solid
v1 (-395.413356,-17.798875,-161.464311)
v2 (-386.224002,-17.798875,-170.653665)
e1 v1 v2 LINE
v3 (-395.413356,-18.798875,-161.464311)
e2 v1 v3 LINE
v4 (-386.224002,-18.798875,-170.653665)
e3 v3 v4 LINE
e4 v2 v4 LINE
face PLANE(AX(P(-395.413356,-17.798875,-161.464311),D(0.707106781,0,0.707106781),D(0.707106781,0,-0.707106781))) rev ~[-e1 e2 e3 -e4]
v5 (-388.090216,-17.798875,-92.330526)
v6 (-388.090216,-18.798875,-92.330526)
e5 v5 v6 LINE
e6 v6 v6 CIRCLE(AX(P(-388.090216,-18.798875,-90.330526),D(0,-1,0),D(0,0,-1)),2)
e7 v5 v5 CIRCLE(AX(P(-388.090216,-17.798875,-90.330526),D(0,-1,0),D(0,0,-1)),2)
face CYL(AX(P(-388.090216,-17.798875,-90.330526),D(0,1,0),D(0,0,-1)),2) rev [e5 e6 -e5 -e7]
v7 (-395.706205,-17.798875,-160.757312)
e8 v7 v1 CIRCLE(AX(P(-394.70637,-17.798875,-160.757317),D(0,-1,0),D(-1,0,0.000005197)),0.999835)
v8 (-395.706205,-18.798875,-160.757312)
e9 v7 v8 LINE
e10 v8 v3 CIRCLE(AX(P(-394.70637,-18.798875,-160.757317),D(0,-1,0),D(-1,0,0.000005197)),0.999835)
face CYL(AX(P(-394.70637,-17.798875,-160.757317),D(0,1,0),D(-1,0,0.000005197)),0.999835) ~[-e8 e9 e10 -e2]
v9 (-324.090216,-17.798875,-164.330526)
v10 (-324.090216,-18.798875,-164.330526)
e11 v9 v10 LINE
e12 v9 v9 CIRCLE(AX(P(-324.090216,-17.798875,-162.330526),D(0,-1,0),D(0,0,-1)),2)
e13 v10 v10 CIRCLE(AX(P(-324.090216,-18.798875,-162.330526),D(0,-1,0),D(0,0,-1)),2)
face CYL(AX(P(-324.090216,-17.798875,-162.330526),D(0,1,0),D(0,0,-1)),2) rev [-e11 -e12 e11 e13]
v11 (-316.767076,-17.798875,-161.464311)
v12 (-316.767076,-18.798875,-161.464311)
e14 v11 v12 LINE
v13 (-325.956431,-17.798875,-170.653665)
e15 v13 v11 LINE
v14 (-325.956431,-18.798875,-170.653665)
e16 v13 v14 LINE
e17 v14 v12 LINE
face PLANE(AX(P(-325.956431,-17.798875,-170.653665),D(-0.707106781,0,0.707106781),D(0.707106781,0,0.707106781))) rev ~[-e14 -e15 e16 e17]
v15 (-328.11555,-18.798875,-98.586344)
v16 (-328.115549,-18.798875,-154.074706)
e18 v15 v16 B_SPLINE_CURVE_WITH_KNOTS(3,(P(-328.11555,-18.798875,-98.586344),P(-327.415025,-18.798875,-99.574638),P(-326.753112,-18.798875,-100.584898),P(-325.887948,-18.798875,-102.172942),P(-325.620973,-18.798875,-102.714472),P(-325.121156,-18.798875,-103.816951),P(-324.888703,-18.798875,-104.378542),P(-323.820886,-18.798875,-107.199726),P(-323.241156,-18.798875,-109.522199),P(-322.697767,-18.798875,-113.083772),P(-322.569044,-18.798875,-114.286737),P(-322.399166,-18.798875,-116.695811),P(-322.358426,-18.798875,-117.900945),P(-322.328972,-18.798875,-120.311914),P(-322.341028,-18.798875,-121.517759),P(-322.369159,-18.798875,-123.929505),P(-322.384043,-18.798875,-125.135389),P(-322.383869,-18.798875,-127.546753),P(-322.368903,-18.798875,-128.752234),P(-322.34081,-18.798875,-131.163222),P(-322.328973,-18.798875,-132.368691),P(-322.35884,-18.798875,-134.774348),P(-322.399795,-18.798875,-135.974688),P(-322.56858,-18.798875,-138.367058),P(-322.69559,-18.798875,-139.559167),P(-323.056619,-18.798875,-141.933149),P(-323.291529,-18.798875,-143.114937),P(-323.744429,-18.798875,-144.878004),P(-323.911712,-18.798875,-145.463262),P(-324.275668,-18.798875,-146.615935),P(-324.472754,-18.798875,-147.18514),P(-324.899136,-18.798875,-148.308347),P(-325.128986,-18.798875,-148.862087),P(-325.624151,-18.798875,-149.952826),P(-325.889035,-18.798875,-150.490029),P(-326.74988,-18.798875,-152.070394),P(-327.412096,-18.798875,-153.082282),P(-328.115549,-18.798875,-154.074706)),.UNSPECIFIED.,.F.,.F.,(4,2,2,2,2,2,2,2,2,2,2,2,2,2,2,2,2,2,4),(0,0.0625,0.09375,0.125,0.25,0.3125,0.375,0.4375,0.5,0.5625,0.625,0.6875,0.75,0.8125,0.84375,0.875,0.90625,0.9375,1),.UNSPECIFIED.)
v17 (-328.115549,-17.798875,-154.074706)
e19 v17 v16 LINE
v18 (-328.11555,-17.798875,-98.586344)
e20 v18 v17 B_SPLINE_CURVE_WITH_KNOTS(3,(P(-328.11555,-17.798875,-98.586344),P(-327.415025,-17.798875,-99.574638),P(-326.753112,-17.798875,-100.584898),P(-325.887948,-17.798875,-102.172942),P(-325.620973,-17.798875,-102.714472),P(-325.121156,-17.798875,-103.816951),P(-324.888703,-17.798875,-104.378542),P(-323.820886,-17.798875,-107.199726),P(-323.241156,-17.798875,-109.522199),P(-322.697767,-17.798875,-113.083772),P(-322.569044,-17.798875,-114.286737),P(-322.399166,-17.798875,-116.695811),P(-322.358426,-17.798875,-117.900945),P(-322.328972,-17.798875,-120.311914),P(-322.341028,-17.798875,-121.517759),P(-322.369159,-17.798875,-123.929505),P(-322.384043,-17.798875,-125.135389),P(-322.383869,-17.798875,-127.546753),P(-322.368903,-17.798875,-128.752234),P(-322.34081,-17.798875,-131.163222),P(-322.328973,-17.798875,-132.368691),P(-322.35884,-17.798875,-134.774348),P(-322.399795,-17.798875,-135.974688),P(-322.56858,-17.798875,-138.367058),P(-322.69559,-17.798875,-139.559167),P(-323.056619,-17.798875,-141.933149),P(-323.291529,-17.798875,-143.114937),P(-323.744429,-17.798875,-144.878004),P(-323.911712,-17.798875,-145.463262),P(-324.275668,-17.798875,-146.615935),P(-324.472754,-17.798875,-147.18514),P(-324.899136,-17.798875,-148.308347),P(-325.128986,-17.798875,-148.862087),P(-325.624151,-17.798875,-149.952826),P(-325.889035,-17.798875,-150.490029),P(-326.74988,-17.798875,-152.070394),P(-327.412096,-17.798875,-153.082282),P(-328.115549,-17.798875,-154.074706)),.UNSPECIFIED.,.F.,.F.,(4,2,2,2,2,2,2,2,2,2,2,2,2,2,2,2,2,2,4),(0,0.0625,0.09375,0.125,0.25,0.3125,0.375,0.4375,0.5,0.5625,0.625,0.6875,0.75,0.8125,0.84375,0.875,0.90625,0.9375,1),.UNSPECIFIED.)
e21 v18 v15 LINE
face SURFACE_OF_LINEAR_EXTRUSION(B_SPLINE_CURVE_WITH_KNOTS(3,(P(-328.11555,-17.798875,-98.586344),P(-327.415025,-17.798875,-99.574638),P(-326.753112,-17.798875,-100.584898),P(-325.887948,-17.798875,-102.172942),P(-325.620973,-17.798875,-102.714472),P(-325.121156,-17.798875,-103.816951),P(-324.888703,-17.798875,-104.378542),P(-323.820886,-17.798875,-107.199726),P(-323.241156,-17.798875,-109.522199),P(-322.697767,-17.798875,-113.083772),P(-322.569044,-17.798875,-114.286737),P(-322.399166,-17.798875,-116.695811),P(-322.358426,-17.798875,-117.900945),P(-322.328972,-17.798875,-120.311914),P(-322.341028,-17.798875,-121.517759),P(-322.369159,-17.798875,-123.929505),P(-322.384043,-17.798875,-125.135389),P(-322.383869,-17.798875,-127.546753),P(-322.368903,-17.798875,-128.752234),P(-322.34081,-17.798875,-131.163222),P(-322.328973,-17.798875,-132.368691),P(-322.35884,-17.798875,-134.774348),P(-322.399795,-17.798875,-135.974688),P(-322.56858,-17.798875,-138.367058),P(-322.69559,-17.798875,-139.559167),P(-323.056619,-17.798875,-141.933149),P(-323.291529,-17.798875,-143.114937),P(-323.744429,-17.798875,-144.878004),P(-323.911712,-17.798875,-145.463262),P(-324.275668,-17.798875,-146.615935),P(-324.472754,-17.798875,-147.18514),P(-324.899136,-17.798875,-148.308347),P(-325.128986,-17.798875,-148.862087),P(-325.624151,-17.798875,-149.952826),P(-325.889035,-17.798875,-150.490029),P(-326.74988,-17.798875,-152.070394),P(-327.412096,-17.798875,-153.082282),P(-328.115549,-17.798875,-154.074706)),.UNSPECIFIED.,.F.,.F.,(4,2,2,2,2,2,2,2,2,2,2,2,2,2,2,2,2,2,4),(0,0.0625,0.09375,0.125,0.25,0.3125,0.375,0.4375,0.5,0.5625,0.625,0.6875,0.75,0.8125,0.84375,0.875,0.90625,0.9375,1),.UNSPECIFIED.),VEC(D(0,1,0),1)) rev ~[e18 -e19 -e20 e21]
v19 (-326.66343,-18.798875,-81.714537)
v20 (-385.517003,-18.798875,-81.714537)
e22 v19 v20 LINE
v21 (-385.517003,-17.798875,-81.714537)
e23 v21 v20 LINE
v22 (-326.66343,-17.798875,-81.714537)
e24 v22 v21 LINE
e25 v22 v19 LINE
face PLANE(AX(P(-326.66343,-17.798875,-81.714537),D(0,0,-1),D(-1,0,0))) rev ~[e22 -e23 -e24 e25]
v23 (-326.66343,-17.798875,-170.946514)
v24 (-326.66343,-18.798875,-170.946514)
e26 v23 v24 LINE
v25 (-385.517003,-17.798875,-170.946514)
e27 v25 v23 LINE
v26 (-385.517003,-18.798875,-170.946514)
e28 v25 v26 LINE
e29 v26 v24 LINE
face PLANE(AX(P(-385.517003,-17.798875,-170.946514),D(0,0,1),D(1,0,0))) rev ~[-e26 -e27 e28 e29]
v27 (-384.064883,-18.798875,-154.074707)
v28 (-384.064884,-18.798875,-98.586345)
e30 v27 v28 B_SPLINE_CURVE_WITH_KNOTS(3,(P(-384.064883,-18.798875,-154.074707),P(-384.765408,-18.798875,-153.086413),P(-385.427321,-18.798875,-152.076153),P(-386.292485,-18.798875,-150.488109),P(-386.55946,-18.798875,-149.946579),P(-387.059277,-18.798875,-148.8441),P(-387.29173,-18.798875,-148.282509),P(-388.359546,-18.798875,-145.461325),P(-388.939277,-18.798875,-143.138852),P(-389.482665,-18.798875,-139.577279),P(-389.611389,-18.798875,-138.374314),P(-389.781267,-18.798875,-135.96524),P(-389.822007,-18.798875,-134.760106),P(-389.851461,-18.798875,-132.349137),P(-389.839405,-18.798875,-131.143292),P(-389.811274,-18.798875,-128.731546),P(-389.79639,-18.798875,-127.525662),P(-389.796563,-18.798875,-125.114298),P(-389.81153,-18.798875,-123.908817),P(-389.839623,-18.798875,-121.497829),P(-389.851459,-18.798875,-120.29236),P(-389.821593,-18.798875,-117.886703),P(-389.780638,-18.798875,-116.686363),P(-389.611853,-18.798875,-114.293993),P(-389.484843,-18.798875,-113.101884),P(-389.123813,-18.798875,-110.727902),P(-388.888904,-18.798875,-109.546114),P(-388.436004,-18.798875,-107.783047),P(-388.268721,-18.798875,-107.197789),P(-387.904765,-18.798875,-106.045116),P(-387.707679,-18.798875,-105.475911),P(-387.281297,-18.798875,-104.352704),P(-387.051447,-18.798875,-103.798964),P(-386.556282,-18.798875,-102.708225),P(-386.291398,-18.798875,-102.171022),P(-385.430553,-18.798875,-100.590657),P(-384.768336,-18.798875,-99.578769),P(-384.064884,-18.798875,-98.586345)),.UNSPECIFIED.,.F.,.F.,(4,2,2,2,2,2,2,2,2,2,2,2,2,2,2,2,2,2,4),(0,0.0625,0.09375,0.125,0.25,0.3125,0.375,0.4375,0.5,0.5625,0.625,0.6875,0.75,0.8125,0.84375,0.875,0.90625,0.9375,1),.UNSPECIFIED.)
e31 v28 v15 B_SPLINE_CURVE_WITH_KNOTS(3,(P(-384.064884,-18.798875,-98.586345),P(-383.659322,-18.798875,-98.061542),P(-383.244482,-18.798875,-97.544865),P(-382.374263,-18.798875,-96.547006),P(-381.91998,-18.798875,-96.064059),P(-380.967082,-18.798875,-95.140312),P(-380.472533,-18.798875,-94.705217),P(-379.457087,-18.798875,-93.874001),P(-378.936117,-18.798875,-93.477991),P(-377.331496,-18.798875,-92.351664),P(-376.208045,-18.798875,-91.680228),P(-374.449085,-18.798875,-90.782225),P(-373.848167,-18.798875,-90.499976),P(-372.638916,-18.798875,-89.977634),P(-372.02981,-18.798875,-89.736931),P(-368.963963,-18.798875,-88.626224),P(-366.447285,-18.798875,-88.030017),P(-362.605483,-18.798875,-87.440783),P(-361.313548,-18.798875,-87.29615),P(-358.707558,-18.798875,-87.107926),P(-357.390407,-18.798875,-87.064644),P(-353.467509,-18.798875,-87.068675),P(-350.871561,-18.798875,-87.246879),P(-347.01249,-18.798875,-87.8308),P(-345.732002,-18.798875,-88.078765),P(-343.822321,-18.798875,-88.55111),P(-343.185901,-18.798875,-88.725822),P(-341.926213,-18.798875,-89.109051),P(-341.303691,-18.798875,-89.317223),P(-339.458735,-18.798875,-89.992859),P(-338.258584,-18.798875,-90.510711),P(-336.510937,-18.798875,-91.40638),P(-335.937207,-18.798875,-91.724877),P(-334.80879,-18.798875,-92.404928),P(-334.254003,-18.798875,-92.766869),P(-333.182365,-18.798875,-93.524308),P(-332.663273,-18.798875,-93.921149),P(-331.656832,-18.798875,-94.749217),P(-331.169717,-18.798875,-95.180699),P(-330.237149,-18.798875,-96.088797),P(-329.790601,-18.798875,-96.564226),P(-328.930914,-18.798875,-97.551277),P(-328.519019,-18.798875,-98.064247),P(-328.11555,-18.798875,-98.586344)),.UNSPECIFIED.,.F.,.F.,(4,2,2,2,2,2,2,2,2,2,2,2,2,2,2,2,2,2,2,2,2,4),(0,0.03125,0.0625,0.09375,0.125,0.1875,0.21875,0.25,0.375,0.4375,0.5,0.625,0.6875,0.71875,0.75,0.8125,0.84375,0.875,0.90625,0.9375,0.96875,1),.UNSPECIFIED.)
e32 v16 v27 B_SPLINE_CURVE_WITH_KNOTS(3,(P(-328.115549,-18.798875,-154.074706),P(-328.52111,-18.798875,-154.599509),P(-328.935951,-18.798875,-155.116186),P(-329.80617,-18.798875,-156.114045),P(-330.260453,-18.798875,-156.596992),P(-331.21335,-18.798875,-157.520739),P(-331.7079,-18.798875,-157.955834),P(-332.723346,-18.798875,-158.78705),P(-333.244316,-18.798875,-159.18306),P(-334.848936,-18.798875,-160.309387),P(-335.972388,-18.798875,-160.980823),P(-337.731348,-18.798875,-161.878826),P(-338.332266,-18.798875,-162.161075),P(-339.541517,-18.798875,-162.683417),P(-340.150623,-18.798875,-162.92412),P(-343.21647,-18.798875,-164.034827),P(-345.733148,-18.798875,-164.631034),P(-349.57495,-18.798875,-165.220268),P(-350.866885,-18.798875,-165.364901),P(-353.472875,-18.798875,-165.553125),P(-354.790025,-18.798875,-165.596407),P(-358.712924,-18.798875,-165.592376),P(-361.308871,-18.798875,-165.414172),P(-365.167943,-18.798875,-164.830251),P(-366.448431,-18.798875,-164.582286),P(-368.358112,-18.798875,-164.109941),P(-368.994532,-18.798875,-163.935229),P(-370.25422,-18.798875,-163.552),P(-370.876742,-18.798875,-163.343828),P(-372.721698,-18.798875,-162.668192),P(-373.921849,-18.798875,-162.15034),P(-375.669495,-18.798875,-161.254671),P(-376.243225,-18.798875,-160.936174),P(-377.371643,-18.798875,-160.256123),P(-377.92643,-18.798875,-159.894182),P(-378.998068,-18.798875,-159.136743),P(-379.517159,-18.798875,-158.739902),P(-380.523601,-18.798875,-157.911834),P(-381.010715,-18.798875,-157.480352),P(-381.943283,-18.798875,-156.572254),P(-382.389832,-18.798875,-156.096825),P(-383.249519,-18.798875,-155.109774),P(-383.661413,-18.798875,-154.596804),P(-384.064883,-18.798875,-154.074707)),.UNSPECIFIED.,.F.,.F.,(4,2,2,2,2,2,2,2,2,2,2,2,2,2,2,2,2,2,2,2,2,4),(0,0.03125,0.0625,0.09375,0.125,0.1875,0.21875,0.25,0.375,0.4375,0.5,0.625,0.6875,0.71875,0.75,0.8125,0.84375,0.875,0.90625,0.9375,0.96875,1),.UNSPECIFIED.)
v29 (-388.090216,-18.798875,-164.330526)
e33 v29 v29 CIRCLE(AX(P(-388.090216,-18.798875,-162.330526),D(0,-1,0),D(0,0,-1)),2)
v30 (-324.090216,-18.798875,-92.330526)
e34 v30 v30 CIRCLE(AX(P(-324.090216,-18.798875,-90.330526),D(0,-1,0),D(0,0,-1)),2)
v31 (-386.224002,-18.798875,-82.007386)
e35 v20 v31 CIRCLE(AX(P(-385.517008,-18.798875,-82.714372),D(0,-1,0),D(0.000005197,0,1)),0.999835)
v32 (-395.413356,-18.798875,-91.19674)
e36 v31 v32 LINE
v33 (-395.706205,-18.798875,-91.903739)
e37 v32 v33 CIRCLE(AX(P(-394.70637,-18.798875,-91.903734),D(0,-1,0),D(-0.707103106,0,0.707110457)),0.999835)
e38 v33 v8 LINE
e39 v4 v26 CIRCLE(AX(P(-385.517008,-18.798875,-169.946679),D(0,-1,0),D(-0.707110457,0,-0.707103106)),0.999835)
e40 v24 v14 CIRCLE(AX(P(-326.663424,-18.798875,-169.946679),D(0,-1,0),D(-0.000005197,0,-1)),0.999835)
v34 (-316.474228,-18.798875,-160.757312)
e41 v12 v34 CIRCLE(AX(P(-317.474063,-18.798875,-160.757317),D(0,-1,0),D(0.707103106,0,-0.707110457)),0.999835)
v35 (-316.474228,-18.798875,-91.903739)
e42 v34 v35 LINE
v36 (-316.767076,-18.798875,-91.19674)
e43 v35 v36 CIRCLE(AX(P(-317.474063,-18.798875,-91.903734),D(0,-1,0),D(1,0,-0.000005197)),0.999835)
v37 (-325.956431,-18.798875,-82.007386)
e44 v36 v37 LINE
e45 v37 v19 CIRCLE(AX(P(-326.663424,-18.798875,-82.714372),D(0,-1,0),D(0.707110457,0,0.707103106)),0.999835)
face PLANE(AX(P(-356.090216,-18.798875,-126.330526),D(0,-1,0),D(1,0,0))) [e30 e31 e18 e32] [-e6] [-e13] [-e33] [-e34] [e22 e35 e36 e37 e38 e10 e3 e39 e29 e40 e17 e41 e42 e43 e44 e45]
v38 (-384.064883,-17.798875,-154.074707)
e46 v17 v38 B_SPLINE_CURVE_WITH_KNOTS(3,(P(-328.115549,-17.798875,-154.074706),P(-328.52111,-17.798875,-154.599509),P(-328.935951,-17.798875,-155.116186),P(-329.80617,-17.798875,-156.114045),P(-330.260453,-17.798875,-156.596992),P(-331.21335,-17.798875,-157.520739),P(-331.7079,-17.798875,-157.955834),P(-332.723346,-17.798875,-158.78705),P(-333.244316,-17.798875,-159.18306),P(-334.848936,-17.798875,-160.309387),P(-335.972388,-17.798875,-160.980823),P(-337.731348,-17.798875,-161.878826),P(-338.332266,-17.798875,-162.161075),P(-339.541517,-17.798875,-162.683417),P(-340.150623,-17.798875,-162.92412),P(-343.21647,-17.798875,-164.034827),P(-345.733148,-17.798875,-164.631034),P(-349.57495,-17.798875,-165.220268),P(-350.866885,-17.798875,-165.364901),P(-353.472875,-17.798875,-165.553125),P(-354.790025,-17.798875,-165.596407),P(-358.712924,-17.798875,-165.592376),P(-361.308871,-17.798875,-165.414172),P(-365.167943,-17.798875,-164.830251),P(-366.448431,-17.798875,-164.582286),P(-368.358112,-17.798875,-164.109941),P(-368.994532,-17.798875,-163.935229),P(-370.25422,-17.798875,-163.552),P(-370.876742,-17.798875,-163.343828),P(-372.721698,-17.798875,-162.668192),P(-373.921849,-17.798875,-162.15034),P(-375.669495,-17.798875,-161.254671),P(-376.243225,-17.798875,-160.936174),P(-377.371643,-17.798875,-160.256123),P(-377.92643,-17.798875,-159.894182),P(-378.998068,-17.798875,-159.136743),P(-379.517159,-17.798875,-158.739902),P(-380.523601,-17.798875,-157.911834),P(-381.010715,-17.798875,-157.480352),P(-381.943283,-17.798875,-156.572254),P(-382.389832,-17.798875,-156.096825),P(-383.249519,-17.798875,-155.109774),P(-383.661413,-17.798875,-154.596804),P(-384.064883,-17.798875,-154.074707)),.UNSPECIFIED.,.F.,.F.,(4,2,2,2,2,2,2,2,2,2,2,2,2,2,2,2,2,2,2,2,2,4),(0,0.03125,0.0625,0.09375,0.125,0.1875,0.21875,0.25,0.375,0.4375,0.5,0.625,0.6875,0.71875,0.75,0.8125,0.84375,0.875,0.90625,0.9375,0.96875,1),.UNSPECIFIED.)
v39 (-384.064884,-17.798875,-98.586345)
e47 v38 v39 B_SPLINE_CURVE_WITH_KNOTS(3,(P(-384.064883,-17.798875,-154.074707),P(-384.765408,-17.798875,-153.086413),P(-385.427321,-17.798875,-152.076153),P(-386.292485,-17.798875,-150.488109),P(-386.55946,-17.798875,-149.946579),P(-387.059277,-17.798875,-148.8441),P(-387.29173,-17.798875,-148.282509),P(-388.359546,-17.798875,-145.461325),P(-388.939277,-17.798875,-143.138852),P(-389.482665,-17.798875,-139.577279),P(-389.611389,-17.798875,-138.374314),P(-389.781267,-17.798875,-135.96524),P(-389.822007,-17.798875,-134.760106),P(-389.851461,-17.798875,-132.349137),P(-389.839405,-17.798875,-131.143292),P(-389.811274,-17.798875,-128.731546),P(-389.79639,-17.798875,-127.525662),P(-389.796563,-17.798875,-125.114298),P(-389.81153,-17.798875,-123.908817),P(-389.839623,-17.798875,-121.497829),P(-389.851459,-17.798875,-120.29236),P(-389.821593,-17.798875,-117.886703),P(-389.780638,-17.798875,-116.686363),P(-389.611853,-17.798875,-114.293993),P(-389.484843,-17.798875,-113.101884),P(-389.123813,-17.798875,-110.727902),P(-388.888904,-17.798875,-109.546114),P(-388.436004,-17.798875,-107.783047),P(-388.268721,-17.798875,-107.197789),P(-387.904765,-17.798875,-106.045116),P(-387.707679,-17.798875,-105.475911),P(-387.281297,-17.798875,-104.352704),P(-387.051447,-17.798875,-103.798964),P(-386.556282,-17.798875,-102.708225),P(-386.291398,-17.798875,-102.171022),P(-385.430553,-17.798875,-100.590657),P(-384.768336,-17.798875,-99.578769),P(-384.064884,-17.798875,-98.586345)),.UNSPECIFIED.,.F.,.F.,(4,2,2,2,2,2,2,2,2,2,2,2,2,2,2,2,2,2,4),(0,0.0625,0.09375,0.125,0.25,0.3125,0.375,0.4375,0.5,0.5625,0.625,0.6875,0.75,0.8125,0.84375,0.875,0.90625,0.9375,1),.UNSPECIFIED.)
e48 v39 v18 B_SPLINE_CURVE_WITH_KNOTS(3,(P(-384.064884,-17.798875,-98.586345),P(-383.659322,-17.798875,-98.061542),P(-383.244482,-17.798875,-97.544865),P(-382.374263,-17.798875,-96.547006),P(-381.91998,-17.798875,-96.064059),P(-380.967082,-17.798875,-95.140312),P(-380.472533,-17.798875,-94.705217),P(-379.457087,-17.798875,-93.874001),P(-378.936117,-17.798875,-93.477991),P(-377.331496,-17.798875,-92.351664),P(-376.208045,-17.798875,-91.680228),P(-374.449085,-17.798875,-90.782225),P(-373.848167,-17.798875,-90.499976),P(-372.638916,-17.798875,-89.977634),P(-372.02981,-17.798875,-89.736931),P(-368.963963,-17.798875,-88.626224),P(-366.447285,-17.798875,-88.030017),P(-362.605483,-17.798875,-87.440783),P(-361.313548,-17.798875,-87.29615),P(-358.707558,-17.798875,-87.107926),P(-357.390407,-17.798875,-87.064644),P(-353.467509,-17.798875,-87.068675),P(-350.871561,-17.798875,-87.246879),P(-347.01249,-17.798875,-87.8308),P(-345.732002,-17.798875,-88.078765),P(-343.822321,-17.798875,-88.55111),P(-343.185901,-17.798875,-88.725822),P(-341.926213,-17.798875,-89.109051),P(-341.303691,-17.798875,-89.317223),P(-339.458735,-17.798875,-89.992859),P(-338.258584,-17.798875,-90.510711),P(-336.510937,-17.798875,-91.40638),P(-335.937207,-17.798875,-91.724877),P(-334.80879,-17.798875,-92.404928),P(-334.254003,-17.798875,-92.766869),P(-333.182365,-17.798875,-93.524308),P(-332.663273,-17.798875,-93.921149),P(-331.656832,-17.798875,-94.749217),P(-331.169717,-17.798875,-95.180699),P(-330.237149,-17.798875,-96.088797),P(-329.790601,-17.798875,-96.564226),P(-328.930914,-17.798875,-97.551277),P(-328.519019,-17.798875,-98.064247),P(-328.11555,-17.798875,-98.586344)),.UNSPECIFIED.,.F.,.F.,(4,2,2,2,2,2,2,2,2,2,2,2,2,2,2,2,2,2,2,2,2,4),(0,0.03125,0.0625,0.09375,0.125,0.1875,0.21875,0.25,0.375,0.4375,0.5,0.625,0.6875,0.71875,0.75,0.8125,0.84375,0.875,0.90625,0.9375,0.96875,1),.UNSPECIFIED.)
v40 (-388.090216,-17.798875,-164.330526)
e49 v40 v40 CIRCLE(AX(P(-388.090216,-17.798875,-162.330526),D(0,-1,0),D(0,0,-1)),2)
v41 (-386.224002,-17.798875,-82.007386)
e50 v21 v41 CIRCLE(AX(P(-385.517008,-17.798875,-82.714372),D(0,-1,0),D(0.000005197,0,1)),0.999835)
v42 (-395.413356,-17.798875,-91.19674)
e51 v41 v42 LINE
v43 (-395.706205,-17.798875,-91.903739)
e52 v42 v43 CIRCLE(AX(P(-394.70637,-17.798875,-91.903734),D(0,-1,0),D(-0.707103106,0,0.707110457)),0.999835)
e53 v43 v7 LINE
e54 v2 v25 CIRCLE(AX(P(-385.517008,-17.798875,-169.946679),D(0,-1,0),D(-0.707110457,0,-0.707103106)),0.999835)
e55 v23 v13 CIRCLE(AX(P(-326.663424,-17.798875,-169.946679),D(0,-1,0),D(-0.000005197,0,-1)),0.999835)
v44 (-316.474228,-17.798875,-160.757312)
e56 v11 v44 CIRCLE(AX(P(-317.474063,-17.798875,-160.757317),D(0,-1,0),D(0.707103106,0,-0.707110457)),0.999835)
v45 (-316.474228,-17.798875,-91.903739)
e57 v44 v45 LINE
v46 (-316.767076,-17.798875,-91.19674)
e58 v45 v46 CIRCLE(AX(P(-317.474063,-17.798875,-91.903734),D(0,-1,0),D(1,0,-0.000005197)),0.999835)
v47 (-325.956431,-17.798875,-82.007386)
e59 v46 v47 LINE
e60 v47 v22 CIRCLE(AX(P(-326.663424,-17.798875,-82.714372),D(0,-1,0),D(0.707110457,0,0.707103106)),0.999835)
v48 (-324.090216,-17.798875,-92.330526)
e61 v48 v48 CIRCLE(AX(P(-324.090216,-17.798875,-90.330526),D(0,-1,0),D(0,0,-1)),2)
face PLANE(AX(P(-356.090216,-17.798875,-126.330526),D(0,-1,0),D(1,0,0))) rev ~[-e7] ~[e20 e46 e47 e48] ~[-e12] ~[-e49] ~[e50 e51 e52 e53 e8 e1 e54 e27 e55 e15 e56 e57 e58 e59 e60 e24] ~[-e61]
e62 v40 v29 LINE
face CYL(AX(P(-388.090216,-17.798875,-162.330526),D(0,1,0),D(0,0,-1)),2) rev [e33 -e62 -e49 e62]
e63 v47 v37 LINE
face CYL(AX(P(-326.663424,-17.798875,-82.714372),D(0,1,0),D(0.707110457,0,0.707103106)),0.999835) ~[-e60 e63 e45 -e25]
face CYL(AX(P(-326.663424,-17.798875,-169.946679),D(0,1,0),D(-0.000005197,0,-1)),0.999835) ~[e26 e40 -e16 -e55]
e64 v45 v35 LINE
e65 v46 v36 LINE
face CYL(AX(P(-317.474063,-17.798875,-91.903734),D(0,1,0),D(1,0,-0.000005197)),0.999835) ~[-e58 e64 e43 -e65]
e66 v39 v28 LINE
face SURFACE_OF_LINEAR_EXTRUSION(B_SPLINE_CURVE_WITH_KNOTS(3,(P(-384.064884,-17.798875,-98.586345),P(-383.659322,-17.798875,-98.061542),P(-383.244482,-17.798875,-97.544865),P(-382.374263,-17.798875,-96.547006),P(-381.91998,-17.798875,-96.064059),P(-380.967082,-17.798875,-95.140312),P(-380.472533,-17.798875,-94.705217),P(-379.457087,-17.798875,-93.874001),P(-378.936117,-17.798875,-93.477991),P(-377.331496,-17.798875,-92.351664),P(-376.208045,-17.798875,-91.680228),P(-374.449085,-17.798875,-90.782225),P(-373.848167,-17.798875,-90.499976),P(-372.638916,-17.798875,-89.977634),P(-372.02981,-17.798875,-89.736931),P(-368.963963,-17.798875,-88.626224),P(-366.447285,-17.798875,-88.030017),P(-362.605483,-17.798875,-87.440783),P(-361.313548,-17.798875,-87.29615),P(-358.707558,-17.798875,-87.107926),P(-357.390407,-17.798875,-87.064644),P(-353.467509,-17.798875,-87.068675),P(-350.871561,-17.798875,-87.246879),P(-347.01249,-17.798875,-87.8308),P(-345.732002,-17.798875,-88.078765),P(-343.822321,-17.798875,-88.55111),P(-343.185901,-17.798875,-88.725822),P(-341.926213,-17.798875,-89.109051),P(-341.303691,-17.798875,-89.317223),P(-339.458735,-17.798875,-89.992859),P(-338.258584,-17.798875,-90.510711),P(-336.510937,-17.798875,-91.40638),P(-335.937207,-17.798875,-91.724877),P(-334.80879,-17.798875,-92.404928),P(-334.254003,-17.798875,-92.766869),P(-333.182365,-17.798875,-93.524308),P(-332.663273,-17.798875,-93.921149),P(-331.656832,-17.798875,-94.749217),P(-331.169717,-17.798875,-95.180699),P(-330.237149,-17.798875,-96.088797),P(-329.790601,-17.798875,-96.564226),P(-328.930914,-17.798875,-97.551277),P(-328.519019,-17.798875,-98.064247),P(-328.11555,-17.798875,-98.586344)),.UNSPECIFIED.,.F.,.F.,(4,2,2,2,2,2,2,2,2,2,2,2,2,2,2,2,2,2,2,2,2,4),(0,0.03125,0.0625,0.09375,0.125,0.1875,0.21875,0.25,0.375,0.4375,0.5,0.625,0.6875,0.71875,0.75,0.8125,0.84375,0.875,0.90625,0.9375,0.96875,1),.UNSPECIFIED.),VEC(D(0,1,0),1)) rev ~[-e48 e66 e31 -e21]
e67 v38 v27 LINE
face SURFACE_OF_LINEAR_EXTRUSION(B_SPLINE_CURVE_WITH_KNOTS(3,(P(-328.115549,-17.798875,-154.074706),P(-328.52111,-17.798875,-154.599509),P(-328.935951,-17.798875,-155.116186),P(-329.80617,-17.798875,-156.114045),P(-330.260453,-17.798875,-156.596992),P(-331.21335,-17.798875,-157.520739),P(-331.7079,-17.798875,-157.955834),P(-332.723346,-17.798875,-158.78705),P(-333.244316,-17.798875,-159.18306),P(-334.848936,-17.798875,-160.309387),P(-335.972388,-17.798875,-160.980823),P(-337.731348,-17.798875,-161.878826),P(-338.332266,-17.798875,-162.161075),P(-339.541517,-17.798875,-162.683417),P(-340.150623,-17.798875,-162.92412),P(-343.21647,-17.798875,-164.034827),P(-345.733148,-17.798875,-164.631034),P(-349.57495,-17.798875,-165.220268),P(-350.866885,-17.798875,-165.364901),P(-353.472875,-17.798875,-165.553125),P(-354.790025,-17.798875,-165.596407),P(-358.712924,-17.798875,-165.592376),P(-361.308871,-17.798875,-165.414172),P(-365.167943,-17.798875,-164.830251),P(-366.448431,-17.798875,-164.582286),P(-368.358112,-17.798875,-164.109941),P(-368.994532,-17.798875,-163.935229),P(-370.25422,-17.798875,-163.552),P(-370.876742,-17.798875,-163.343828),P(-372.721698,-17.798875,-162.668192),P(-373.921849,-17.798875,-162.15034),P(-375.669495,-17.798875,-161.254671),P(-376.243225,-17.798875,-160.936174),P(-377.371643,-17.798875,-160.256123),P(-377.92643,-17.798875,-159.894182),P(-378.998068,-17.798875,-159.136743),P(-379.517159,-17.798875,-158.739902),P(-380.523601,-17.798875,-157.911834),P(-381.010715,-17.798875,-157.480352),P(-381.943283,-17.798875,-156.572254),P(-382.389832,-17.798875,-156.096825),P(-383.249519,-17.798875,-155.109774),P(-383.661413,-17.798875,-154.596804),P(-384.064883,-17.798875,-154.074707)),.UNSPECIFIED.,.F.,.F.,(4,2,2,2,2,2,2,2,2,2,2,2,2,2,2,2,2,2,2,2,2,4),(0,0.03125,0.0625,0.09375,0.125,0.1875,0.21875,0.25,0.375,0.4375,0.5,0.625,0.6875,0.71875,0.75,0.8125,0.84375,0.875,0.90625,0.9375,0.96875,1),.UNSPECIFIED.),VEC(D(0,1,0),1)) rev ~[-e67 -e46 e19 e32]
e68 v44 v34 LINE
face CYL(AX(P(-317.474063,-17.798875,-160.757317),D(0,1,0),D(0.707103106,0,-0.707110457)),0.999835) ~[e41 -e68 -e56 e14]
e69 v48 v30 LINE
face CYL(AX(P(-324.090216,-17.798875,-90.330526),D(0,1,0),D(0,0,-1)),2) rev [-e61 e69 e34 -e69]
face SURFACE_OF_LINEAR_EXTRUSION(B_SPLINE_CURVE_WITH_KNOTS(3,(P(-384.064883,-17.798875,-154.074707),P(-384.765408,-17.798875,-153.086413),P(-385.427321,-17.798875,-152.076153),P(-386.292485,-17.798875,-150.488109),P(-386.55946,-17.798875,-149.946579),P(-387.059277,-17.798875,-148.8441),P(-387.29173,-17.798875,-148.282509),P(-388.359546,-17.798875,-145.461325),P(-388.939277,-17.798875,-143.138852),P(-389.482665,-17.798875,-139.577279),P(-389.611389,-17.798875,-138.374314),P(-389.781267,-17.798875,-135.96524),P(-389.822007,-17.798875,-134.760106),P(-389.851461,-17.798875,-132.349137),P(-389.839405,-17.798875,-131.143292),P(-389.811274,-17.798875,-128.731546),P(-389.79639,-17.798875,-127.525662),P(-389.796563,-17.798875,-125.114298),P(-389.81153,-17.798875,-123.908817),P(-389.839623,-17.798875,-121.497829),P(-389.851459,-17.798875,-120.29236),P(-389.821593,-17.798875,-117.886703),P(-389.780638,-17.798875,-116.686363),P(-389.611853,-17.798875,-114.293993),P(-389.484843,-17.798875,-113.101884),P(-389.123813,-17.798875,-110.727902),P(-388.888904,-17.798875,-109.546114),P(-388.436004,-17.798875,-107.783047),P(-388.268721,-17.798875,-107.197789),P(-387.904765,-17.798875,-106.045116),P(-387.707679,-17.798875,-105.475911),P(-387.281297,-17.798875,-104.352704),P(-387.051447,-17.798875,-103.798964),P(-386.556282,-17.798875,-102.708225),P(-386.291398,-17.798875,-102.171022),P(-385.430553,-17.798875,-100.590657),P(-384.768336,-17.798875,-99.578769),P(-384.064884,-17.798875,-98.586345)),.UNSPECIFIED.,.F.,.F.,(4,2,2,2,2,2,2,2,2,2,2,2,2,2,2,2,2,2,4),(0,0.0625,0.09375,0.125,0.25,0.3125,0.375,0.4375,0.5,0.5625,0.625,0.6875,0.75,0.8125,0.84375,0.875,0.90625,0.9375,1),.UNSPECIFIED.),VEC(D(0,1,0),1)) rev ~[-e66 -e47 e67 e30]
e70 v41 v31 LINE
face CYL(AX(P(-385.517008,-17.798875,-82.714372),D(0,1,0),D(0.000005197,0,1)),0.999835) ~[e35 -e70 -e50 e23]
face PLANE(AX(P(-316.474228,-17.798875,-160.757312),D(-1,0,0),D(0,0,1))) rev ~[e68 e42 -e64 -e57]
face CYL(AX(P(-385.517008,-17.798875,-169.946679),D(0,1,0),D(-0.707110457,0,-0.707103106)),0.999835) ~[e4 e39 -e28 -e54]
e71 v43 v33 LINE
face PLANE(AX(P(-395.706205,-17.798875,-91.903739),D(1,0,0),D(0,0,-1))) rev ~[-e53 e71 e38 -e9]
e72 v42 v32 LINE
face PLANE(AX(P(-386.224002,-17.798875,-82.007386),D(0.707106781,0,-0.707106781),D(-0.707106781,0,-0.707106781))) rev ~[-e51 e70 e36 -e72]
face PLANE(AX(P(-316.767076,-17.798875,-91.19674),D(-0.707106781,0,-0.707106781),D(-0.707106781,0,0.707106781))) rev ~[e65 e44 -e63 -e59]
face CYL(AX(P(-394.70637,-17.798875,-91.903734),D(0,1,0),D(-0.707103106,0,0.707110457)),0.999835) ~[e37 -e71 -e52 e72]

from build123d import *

# Parameters (mm, degrees)
SKETCH_1_R      = 2
EXTRUDE_1_DEPTH = 1


with BuildPart() as part:
    # 草图1 → 凸台-拉伸1 (new body)
    with BuildSketch(Plane.XZ.offset(17.798874667)):
        with BuildLine():
            Line((-395.706204946, -91.903738718), (-395.706204946, -160.757312284))
            ThreePointArc((-395.706204946, -160.757312284), (-395.630097027, -161.139937827), (-395.413356336, -161.464311369))
            Line((-395.413356336, -161.464311369), (-386.224002242, -170.653665463))
            ThreePointArc((-386.224002242, -170.653665463), (-385.8996287, -170.870406154), (-385.517003157, -170.946514073))
            Line((-385.517003157, -170.946514073), (-326.663429591, -170.946514073))
            ThreePointArc((-326.663429591, -170.946514073), (-326.280804048, -170.870406154), (-325.956430506, -170.653665463))
            Line((-325.956430506, -170.653665463), (-316.767076412, -161.464311369))
            ThreePointArc((-316.767076412, -161.464311369), (-316.550335721, -161.139937827), (-316.474227802, -160.757312284))
            Line((-316.474227802, -160.757312284), (-316.474227802, -91.903738718))
            ThreePointArc((-316.474227802, -91.903738718), (-316.550335721, -91.521113175), (-316.767076412, -91.196739633))
            Line((-316.767076412, -91.196739633), (-325.956430506, -82.007385539))
            ThreePointArc((-325.956430506, -82.007385539), (-326.280804048, -81.790644848), (-326.663429591, -81.714536929))
            Line((-326.663429591, -81.714536929), (-385.517003157, -81.714536929))
            ThreePointArc((-385.517003157, -81.714536929), (-385.8996287, -81.790644848), (-386.224002242, -82.007385539))
            Line((-386.224002242, -82.007385539), (-395.413356336, -91.196739633))
            ThreePointArc((-395.413356336, -91.196739633), (-395.630097027, -91.521113175), (-395.706204946, -91.903738718))
        make_face()
        with Locations(Location((-388.090216374, -90.330525501, 0), (0, 0, 270))):
            Circle(SKETCH_1_R, mode=Mode.SUBTRACT)
        with Locations(Location((-324.090216374, -90.330525501, 0), (0, 0, 270))):
            Circle(SKETCH_1_R, mode=Mode.SUBTRACT)
        with Locations(Location((-324.090216374, -162.330525501, 0), (0, 0, 270))):
            Circle(SKETCH_1_R, mode=Mode.SUBTRACT)
        with Locations(Location((-388.090216374, -162.330525501, 0), (0, 0, 270))):
            Circle(SKETCH_1_R, mode=Mode.SUBTRACT)
        with BuildLine():
            add(Edge.make_bspline(
                [(-328.115549043, -154.074705918), (-328.521110277, -154.59950882), (-328.935951097, -155.116186146), (-329.806169809, -156.114044907), (-330.260453195, -156.596991611), (-331.213350311, -157.520739064), (-331.707900164, -157.955834459), (-332.723346196, -158.787049549), (-333.244315955, -159.183060394), (-334.848936349, -160.309387169), (-335.972388004, -160.980823062), (-337.731348119, -161.87882583), (-338.332266211, -162.161075436), (-339.54151706, -162.683417257), (-340.150623092, -162.924120409), (-343.216470166, -164.034826977), (-345.733148117, -164.631034044), (-349.574949627, -165.220267596), (-350.866884926, -165.364900576), (-353.472874642, -165.553124722), (-354.790025345, -165.596406642), (-358.712924122, -165.592375715), (-361.308871291, -165.414172312), (-365.167942823, -164.830251401), (-366.448430665, -164.582286392), (-368.358111819, -164.109940734), (-368.99453183, -163.935229374), (-370.254220123, -163.552000312), (-370.876741702, -163.343828387), (-372.721697987, -162.668191611), (-373.921848978, -162.150340028), (-375.669495279, -161.254671187), (-376.243225263, -160.936174353), (-377.371642786, -160.256122939), (-377.926429949, -159.894182142), (-378.998067992, -159.136743168), (-379.517159279, -158.739902065), (-380.523601029, -157.91183415), (-381.01071538, -157.480351552), (-381.943283382, -156.572254171), (-382.389831683, -156.096825252), (-383.249518774, -155.109773972), (-383.661413356, -154.596803725), (-384.064883145, -154.074706668)],
                knots=[0, 0, 0, 0, 0.03125, 0.03125, 0.0625, 0.0625, 0.09375, 0.09375, 0.125, 0.125, 0.1875, 0.1875, 0.21875, 0.21875, 0.25, 0.25, 0.375, 0.375, 0.4375, 0.4375, 0.5, 0.5, 0.625, 0.625, 0.6875, 0.6875, 0.71875, 0.71875, 0.75, 0.75, 0.8125, 0.8125, 0.84375, 0.84375, 0.875, 0.875, 0.90625, 0.90625, 0.9375, 0.9375, 0.96875, 0.96875, 1, 1, 1, 1], degree=3))
            add(Edge.make_bspline(
                [(-384.064883145, -154.074706668), (-384.765407707, -153.0864132), (-385.42732094, -152.076153161), (-386.292484546, -150.488109085), (-386.559459675, -149.946579027), (-387.059276771, -148.844100038), (-387.291729743, -148.282508818), (-388.359546252, -145.46132493), (-388.939276666, -143.138851633), (-389.482665418, -139.577278966), (-389.611388551, -138.374314162), (-389.781266573, -135.965239718), (-389.822006502, -134.76010621), (-389.851460561, -132.349137318), (-389.839404608, -131.143291545), (-389.811274153, -128.731545786), (-389.79638992, -127.525661857), (-389.796563394, -125.114297943), (-389.811529784, -123.908816727), (-389.839623007, -121.497829476), (-389.851459361, -120.292359943), (-389.821592912, -117.886702654), (-389.780638177, -116.686362914), (-389.611853133, -114.293992905), (-389.484842639, -113.101884222), (-389.123813463, -110.727901972), (-388.888904034, -109.546113603), (-388.436003689, -107.783047131), (-388.268720755, -107.197789125), (-387.904764869, -106.045116113), (-387.707679153, -105.475910785), (-387.281297017, -104.352704238), (-387.051446913, -103.79896437), (-386.556282004, -102.708224696), (-386.291397985, -102.171021551), (-385.430552687, -100.590656677), (-384.768336475, -99.578768629), (-384.064883703, -98.58634508)],
                knots=[0, 0, 0, 0, 0.0625, 0.0625, 0.09375, 0.09375, 0.125, 0.125, 0.25, 0.25, 0.3125, 0.3125, 0.375, 0.375, 0.4375, 0.4375, 0.5, 0.5, 0.5625, 0.5625, 0.625, 0.625, 0.6875, 0.6875, 0.75, 0.75, 0.8125, 0.8125, 0.84375, 0.84375, 0.875, 0.875, 0.90625, 0.90625, 0.9375, 0.9375, 1, 1, 1, 1], degree=3))
            add(Edge.make_bspline(
                [(-384.064883703, -98.58634508), (-383.659322468, -98.061542177), (-383.244481649, -97.544864852), (-382.374262935, -96.547006091), (-381.91997955, -96.064059387), (-380.967082434, -95.140311933), (-380.47253258, -94.705216539), (-379.457086548, -93.874001449), (-378.93611679, -93.477990604), (-377.331496396, -92.35166383), (-376.208044739, -91.680227937), (-374.449084625, -90.782225169), (-373.848166533, -90.499975563), (-372.638915684, -89.977633743), (-372.029809651, -89.73693059), (-368.963962577, -88.626224023), (-366.447284626, -88.030016957), (-362.605483116, -87.440783404), (-361.313547818, -87.296150424), (-358.707558102, -87.107926278), (-357.390407398, -87.064644358), (-353.467508621, -87.068675286), (-350.871561452, -87.24687869), (-347.01248992, -87.830799602), (-345.732002079, -88.078764611), (-343.822320925, -88.55111027), (-343.185900913, -88.72582163), (-341.92621262, -89.109050692), (-341.303691042, -89.317222617), (-339.458734756, -89.992859393), (-338.258583765, -90.510710976), (-336.510937465, -91.406379817), (-335.937207481, -91.724876651), (-334.808789958, -92.404928066), (-334.254002795, -92.766868862), (-333.182364752, -93.524307837), (-332.663273465, -93.92114894), (-331.656831716, -94.749216855), (-331.169717364, -95.180699453), (-330.237149362, -96.088796835), (-329.790601062, -96.564225753), (-328.930913971, -97.551277033), (-328.519019389, -98.064247281), (-328.1155496, -98.586344338)],
                knots=[0, 0, 0, 0, 0.03125, 0.03125, 0.0625, 0.0625, 0.09375, 0.09375, 0.125, 0.125, 0.1875, 0.1875, 0.21875, 0.21875, 0.25, 0.25, 0.375, 0.375, 0.4375, 0.4375, 0.5, 0.5, 0.625, 0.625, 0.6875, 0.6875, 0.71875, 0.71875, 0.75, 0.75, 0.8125, 0.8125, 0.84375, 0.84375, 0.875, 0.875, 0.90625, 0.90625, 0.9375, 0.9375, 0.96875, 0.96875, 1, 1, 1, 1], degree=3))
            add(Edge.make_bspline(
                [(-328.1155496, -98.586344338), (-327.415025038, -99.574637805), (-326.753111806, -100.584897844), (-325.8879482, -102.17294192), (-325.620973071, -102.714471978), (-325.121155975, -103.816950967), (-324.888703004, -104.378542187), (-323.820886495, -107.199726075), (-323.241156082, -109.522199372), (-322.69776733, -113.083772038), (-322.569044197, -114.286736841), (-322.399166175, -116.695811285), (-322.358426246, -117.900944793), (-322.328972188, -120.311913685), (-322.341028142, -121.517759457), (-322.369158597, -123.929505216), (-322.38404283, -125.135389145), (-322.383869357, -127.546753058), (-322.368902966, -128.752234275), (-322.340809743, -131.163221525), (-322.328973388, -132.368691057), (-322.358839836, -134.774348346), (-322.399794572, -135.974688086), (-322.568579615, -138.367058095), (-322.695590109, -139.559166777), (-323.056619285, -141.933149027), (-323.291528714, -143.114937396), (-323.744429058, -144.878003867), (-323.911711993, -145.463261874), (-324.275667878, -146.615934885), (-324.472753594, -147.185140214), (-324.899135729, -148.30834676), (-325.128985833, -148.862086628), (-325.624150742, -149.952826302), (-325.889034762, -150.490029447), (-326.74988006, -152.07039432), (-327.412096271, -153.082282368), (-328.115549043, -154.074705918)],
                knots=[0, 0, 0, 0, 0.0625, 0.0625, 0.09375, 0.09375, 0.125, 0.125, 0.25, 0.25, 0.3125, 0.3125, 0.375, 0.375, 0.4375, 0.4375, 0.5, 0.5, 0.5625, 0.5625, 0.625, 0.625, 0.6875, 0.6875, 0.75, 0.75, 0.8125, 0.8125, 0.84375, 0.84375, 0.875, 0.875, 0.90625, 0.90625, 0.9375, 0.9375, 1, 1, 1, 1], degree=3))
        make_face(mode=Mode.SUBTRACT)
    extrude(amount=EXTRUDE_1_DEPTH)


solid = part.part
